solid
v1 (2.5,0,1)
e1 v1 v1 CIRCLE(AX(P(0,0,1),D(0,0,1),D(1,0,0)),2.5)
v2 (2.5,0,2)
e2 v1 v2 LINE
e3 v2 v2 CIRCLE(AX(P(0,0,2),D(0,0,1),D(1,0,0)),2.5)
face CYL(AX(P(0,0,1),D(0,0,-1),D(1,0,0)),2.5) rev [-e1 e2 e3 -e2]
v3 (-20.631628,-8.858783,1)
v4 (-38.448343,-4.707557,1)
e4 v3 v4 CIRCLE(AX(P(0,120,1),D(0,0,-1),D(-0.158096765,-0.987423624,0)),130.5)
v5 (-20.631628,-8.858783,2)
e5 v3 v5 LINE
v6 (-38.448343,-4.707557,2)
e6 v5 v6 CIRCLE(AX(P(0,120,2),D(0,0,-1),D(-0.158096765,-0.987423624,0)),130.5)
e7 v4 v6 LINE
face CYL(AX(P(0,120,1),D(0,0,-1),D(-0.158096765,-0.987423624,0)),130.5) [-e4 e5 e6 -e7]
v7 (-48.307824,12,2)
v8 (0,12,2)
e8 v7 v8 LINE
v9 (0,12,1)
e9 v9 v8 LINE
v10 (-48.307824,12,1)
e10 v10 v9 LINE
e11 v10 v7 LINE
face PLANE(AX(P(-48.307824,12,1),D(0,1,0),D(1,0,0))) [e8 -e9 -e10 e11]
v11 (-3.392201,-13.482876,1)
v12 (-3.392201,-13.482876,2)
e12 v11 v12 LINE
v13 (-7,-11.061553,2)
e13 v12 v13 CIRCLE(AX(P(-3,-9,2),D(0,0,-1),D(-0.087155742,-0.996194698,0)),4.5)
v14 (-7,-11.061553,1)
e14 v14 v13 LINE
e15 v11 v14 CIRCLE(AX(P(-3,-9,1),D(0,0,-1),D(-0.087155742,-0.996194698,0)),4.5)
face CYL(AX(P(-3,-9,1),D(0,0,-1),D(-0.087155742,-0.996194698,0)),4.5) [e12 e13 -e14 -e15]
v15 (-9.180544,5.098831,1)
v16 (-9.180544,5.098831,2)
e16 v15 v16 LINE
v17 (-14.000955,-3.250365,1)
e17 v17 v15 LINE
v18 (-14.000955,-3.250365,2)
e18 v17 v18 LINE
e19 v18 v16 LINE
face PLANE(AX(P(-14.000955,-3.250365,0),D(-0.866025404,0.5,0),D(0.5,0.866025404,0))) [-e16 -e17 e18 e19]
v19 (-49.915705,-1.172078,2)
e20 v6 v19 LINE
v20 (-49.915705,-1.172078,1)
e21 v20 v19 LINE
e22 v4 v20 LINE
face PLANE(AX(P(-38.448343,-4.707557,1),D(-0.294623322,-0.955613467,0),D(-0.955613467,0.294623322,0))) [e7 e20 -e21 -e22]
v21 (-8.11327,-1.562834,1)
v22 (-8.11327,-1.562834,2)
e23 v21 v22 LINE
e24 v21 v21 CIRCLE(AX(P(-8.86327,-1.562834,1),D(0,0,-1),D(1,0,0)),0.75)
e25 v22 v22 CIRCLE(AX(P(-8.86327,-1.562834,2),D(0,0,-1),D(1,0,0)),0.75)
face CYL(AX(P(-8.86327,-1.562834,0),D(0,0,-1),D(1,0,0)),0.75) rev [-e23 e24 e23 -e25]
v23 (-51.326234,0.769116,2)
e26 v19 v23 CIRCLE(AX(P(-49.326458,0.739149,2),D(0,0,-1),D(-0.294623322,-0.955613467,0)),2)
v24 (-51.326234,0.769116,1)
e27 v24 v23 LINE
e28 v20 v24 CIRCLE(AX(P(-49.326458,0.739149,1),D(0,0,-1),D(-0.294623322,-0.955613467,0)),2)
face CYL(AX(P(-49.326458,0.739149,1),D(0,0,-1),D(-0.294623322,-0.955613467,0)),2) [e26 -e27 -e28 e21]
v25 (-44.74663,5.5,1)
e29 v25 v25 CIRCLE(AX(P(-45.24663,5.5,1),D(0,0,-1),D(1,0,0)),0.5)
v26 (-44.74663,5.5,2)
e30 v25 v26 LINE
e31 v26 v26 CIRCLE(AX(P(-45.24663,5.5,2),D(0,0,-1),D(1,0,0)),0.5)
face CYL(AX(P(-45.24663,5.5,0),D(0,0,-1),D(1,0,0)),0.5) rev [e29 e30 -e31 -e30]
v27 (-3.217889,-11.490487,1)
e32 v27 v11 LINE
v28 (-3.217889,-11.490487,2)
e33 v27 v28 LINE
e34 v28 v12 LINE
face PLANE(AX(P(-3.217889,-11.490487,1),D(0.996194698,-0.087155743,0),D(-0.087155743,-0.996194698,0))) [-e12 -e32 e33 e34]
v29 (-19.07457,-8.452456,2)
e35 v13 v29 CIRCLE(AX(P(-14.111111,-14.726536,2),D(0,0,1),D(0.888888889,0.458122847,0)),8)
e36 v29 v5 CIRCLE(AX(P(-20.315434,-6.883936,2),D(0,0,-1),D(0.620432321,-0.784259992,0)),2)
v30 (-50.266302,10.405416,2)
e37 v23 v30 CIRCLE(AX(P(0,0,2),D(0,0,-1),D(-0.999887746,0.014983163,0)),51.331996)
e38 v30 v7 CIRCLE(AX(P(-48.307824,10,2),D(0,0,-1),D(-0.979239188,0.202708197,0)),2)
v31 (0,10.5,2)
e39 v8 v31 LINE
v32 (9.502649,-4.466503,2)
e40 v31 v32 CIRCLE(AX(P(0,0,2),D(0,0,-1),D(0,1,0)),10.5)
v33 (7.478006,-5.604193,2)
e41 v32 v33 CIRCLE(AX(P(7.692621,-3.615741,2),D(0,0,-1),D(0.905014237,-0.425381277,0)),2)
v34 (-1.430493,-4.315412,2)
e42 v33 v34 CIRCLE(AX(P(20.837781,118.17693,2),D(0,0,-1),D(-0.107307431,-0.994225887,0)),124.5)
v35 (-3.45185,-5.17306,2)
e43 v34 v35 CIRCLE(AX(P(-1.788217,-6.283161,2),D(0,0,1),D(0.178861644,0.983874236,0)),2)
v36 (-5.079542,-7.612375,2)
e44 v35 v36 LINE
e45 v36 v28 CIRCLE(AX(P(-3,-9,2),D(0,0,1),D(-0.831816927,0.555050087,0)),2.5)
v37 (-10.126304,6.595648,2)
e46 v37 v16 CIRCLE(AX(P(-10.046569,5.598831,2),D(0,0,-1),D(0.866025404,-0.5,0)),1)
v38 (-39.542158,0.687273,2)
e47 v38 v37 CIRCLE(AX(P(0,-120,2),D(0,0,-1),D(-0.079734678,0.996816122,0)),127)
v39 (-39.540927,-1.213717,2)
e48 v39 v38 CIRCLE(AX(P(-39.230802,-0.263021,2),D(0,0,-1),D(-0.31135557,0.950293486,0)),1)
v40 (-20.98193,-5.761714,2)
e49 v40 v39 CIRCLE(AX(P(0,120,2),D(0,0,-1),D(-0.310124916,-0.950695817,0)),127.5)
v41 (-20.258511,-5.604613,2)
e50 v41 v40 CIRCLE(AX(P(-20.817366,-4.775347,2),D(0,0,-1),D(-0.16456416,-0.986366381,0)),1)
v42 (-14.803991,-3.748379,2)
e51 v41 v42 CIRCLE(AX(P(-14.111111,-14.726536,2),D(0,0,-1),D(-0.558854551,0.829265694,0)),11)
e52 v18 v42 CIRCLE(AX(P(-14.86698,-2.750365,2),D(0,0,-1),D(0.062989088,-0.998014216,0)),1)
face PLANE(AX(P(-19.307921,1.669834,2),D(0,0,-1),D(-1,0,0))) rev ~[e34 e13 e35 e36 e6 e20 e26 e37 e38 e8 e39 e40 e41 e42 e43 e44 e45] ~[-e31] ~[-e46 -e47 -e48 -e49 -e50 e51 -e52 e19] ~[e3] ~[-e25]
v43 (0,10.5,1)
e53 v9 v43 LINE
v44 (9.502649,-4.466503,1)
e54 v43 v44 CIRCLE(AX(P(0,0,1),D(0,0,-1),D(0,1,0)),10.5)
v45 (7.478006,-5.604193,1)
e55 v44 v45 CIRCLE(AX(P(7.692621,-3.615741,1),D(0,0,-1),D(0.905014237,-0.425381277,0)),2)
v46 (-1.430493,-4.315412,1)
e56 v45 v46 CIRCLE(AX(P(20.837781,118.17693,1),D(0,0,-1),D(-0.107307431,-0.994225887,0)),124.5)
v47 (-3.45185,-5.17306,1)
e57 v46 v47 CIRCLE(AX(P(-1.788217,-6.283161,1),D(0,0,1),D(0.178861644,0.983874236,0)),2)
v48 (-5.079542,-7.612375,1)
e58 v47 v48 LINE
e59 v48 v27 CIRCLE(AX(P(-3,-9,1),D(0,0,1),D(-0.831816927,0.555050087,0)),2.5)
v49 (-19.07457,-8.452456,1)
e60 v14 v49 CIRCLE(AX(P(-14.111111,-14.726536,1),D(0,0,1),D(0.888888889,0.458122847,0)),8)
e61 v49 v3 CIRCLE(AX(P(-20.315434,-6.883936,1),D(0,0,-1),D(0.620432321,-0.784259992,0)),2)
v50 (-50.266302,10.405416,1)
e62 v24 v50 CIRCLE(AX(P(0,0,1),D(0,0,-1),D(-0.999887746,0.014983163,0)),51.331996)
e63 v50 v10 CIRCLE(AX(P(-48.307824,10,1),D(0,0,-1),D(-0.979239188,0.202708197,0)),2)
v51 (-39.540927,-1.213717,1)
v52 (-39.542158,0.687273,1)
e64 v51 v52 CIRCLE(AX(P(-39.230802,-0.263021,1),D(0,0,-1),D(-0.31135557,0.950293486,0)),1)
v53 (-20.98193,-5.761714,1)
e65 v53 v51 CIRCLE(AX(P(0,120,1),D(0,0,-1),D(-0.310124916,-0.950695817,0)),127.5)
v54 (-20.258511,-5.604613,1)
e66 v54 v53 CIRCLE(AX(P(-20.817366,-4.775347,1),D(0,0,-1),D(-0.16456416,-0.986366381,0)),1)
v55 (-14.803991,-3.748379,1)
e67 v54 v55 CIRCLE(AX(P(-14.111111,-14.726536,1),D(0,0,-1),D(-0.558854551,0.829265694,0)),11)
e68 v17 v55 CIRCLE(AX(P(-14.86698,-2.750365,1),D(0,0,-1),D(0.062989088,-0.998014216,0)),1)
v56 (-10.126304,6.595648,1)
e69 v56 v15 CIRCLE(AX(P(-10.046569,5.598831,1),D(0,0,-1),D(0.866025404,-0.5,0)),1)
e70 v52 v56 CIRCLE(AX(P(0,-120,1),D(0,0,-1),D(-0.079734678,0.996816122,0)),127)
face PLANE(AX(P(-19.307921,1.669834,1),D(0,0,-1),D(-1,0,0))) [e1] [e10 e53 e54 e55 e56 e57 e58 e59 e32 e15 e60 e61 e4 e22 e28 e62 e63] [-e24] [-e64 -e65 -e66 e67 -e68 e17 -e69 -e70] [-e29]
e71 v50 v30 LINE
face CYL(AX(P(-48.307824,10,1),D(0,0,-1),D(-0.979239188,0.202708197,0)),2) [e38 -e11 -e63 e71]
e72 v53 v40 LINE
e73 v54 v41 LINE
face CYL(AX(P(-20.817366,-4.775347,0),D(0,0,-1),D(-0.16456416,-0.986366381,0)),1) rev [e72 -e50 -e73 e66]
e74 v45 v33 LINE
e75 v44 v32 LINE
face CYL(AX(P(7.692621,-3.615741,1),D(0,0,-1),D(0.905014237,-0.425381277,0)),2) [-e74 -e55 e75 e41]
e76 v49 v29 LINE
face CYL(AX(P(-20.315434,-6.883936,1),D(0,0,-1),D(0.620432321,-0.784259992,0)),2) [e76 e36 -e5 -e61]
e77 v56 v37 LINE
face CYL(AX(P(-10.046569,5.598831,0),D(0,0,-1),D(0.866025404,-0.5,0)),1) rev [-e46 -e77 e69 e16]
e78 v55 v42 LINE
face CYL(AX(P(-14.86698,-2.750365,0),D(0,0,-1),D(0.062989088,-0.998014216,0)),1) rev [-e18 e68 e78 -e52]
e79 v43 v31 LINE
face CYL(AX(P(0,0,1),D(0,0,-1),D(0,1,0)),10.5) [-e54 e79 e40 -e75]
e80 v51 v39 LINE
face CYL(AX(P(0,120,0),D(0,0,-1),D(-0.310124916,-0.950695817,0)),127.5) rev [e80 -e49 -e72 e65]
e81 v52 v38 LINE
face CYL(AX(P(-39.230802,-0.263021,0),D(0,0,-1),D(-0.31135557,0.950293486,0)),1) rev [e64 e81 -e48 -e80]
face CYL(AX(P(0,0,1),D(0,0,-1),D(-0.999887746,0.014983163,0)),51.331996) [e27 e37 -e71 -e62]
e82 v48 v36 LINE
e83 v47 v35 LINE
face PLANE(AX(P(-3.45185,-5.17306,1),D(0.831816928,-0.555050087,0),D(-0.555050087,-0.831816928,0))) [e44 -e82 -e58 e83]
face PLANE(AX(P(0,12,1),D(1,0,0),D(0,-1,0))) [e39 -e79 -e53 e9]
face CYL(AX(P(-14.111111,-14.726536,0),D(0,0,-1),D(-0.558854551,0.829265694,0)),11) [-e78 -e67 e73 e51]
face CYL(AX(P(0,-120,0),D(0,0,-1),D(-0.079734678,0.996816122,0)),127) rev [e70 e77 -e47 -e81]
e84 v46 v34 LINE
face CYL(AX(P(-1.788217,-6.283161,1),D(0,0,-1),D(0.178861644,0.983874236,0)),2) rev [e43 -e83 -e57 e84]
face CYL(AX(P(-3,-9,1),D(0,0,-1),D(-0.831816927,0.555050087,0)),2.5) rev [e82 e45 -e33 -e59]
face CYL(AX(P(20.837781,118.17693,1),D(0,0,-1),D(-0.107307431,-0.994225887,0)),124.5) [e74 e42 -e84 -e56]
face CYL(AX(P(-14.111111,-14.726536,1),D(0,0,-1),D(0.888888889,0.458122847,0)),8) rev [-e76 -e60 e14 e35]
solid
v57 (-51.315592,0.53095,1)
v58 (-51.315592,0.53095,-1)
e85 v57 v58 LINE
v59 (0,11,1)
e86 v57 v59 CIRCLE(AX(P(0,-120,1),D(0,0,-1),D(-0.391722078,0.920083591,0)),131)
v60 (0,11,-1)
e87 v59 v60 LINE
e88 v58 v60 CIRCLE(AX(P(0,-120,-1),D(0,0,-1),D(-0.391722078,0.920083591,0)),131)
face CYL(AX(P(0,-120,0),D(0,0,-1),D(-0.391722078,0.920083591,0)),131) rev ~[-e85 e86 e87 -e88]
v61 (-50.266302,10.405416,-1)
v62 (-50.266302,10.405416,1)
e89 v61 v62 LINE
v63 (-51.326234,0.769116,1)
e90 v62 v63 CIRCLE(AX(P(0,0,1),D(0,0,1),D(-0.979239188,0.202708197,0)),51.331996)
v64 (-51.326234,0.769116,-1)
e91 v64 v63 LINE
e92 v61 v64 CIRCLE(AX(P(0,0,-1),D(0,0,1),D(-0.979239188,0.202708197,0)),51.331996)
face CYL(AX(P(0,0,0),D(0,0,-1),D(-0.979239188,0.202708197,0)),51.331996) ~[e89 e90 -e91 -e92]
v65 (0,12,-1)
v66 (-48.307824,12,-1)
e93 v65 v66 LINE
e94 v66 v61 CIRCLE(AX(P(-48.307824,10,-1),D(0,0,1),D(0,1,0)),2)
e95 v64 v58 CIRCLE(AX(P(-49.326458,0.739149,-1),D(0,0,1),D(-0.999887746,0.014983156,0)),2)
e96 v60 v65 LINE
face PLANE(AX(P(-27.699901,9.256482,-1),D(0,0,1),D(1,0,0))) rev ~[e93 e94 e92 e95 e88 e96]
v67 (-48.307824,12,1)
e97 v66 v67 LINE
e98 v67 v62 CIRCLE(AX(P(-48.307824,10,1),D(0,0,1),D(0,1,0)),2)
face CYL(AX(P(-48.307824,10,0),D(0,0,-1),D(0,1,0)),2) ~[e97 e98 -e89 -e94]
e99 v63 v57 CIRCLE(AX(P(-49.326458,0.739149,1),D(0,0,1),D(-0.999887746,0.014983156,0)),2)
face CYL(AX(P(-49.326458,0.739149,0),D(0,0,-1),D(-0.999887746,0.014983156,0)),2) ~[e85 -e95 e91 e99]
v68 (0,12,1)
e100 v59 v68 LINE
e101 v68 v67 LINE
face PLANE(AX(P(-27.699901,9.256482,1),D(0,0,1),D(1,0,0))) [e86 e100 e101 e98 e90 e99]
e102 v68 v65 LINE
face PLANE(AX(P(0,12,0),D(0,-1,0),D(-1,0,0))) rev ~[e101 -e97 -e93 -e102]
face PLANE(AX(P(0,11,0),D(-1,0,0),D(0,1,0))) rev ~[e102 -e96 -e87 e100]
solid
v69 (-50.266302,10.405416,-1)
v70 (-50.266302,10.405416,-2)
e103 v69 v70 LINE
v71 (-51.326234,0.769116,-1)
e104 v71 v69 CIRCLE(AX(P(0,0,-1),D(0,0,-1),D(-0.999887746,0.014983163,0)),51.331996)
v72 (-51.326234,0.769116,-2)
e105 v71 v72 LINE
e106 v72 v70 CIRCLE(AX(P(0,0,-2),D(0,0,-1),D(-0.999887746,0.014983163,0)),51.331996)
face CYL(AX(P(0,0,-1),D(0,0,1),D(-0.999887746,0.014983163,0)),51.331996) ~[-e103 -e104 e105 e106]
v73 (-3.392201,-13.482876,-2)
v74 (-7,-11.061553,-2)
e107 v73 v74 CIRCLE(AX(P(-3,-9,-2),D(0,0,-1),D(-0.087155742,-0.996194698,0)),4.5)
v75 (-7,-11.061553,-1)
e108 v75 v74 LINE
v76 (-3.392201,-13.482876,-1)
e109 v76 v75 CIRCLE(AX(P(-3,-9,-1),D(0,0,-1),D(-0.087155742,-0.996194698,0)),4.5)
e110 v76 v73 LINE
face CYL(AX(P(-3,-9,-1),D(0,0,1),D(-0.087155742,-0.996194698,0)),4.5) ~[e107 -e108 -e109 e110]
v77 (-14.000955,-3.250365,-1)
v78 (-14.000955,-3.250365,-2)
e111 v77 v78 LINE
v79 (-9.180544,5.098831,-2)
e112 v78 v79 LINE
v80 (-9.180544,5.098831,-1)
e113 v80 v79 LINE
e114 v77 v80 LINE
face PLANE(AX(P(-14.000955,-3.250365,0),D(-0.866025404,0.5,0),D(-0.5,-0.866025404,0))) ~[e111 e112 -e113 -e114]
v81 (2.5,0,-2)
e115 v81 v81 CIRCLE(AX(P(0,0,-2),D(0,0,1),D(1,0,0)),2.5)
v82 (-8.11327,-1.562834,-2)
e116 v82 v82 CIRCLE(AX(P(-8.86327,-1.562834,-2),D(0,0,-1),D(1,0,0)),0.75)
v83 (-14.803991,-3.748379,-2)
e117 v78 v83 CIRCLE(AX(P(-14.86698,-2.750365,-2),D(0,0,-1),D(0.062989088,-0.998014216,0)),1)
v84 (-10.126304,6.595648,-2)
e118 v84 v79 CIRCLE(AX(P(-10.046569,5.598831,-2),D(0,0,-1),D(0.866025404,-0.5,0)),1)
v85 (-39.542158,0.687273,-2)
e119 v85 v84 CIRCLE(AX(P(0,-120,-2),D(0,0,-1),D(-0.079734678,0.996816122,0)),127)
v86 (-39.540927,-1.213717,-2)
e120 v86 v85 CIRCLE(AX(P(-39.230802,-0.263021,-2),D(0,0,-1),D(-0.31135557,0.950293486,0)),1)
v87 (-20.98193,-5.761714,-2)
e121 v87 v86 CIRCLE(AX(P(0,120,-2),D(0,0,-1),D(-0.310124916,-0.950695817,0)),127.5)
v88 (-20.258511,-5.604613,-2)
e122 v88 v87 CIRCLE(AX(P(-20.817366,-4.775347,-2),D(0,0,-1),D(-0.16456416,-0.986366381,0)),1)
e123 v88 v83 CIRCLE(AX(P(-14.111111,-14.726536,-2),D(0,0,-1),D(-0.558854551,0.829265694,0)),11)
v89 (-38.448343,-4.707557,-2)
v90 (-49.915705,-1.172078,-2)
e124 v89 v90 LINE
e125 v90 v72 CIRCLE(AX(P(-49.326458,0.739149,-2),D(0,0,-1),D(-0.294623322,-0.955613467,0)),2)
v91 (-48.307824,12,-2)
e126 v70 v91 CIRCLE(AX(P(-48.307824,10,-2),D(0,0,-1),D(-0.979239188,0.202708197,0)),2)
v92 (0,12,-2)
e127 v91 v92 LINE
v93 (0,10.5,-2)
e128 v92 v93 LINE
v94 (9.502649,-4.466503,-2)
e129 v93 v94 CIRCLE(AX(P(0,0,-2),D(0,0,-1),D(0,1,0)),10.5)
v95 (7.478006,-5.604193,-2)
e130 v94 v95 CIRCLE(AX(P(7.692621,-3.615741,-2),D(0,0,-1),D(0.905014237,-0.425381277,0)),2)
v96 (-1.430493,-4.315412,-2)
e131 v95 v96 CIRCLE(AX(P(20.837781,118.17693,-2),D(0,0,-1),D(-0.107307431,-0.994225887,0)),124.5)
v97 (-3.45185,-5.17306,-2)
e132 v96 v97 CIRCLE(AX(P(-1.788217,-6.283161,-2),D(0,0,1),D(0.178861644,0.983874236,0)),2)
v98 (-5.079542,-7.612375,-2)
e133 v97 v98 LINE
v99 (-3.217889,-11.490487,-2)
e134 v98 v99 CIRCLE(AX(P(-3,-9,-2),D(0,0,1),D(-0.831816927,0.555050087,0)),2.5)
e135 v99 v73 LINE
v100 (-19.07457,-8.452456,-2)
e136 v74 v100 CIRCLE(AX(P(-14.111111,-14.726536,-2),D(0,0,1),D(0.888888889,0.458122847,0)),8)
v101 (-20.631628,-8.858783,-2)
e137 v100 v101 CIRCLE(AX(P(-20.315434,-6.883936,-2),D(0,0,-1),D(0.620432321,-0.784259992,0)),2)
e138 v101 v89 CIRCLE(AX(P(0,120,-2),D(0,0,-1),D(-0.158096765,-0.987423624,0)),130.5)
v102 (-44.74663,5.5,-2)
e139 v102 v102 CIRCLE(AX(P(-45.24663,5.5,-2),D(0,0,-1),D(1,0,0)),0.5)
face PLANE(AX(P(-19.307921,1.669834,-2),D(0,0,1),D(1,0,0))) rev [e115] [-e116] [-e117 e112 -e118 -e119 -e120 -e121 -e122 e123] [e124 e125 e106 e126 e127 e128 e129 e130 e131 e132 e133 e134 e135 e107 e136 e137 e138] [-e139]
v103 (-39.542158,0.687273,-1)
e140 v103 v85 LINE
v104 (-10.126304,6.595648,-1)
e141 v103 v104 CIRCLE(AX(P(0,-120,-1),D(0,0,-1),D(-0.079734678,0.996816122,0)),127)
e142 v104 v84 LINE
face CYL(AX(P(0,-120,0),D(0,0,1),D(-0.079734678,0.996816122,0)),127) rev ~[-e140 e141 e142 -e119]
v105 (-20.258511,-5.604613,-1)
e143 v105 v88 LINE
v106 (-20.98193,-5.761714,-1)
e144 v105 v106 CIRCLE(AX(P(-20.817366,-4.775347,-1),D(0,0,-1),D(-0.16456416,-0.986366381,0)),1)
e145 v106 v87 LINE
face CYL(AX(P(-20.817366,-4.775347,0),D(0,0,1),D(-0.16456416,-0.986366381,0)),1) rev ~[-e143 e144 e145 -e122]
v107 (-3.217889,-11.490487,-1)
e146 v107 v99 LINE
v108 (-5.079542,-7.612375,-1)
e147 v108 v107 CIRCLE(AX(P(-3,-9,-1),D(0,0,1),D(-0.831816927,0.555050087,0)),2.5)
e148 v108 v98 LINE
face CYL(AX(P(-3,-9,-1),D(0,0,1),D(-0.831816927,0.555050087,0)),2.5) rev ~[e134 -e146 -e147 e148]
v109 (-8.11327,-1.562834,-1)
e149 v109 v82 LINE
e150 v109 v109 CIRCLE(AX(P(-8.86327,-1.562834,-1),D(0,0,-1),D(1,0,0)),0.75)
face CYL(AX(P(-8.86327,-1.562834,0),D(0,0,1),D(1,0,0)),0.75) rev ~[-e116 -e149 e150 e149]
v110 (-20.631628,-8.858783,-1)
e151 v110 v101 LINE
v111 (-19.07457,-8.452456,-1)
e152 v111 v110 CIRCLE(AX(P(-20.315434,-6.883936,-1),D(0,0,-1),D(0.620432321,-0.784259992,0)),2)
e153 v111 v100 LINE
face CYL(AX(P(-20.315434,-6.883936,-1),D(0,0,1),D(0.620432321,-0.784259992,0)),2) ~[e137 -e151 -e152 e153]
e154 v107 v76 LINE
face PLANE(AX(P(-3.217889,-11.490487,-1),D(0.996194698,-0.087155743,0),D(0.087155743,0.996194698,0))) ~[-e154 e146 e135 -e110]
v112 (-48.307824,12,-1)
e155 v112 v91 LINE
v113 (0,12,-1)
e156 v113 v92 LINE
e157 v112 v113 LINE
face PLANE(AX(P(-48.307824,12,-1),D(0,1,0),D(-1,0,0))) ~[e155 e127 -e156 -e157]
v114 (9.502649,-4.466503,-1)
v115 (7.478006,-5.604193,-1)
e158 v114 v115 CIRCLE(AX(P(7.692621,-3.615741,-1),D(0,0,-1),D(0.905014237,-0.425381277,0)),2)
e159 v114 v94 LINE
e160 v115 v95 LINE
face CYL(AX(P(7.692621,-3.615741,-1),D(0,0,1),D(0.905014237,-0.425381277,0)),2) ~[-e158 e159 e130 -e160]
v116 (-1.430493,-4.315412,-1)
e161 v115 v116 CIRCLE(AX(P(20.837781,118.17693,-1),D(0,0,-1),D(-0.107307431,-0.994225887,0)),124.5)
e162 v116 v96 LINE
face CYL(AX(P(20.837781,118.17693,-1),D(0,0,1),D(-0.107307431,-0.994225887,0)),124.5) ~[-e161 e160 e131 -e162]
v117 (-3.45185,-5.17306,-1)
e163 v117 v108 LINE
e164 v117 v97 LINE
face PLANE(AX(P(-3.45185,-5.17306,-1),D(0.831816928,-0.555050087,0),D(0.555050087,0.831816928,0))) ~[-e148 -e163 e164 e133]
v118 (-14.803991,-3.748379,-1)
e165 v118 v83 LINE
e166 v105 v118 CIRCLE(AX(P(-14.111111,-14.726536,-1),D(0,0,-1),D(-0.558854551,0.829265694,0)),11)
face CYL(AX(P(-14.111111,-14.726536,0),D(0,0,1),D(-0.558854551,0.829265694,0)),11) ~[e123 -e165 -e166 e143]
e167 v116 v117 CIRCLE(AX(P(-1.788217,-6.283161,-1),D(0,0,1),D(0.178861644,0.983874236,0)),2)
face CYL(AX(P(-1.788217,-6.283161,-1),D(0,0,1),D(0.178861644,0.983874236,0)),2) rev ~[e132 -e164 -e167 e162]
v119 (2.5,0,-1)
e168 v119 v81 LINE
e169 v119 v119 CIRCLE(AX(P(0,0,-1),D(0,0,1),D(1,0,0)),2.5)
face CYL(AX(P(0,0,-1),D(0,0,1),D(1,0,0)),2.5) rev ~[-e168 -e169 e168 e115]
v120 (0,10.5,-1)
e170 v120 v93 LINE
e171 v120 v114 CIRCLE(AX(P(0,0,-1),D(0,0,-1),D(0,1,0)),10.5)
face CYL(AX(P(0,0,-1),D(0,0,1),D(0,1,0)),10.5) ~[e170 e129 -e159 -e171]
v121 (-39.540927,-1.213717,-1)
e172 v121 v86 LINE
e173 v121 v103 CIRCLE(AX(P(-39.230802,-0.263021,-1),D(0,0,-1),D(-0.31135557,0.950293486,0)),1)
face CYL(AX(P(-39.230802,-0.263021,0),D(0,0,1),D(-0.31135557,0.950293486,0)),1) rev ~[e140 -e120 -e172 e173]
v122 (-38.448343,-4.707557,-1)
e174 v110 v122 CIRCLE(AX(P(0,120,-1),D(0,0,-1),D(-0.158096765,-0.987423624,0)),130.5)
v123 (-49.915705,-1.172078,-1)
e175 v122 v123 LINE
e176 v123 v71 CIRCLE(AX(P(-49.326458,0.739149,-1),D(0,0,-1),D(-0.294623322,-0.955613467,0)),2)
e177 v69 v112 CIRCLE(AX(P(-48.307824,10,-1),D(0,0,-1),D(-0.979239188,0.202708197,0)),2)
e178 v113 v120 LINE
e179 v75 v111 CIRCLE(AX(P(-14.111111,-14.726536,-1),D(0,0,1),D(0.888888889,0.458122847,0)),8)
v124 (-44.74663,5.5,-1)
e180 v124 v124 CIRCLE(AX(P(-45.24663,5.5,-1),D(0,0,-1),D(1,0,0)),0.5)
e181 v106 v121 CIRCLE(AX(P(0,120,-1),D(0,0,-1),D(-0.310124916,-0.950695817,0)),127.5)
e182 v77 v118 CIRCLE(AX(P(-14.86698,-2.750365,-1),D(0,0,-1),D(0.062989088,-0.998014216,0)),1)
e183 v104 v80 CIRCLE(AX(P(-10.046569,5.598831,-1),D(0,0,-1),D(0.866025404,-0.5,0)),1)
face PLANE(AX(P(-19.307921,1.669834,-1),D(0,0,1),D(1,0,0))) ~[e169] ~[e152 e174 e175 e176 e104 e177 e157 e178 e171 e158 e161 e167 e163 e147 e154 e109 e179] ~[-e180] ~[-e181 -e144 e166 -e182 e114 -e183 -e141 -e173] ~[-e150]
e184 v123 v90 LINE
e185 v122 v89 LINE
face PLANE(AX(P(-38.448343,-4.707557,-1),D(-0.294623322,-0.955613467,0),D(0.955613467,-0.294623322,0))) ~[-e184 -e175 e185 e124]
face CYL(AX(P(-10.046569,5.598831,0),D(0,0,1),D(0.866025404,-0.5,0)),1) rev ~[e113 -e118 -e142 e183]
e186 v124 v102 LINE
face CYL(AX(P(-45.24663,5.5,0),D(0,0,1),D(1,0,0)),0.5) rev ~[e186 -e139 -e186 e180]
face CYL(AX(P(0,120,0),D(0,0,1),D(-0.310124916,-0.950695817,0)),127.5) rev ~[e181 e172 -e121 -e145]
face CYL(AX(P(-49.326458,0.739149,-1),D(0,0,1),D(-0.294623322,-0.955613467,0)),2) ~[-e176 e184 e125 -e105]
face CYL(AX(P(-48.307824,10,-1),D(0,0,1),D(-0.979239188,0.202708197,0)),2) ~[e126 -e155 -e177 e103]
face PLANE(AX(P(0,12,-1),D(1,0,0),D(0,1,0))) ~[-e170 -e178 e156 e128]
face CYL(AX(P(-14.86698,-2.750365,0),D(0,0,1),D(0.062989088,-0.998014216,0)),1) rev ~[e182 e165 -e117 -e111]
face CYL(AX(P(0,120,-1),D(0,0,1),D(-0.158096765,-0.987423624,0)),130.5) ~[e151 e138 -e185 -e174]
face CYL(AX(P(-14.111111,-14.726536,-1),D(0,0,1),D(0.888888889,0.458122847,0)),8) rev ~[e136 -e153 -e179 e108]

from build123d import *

# Parameters (mm, degrees)
SKICA1_R                 = 2.5
P_IDAT_VYSUNUT_M1_DEPTH  = 1
ODEBRAT_VYSUNUT_M3_DEPTH = 54.105492035
SKICA2_R                 = 0.75
SKICA2_R_2               = 0.5
ODEBRAT_VYSUNUT_M2_DEPTH = 54.105492035
P_IDAT_VYSUNUT_M2_DEPTH  = 1


with BuildPart() as part:
    # Skica1 → Přidat vysunutím1 (new body)
    with BuildSketch(Plane.XY.offset(1)):
        with BuildLine():
            Line((-3.451850397, -5.17306034), (-5.079542319, -7.612374783))
            ThreePointArc((-5.079542319, -7.612374783), (-5.253771545, -10.081902872), (-3.217889357, -11.490486745))
            Line((-3.217889357, -11.490486745), (-3.392200842, -13.482876141))
            ThreePointArc((-3.392200842, -13.482876141), (-5.507699887, -12.736501208), (-7, -11.061552813))
            ThreePointArc((-7, -11.061552813), (-12.421451418, -6.907005546), (-19.074569669, -8.452455647))
            ThreePointArc((-19.074569669, -8.452455647), (-19.810429728, -8.819128255), (-20.631627839, -8.858782909))
            ThreePointArc((-20.631627839, -8.858782909), (-29.612816832, -7.095755552), (-38.448343472, -4.707557447))
            Line((-38.448343472, -4.707557447), (-49.915705076, -1.172077587))
            ThreePointArc((-49.915705076, -1.172077587), (-50.944425281, -0.436513563), (-51.326233925, 0.769115673))
            ThreePointArc((-51.326233925, 0.769115673), (-51.024263074, 5.612344033), (-50.266302206, 10.405416394))
            ThreePointArc((-50.266302206, 10.405416394), (-49.570592062, 11.550940487), (-48.307823831, 12))
            Line((-48.307823831, 12), (0, 12))
            Line((0, 12), (0, 10.5))
            ThreePointArc((0, 10.5), (8.864205709, 5.628130874), (9.502649492, -4.466503402))
            ThreePointArc((9.502649492, -4.466503402), (8.672376262, -5.35932327), (7.478006155, -5.604192624))
            ThreePointArc((7.478006155, -5.604192624), (3.01210543, -5.04033823), (-1.430493256, -4.315412042))
            ThreePointArc((-1.430493256, -4.315412042), (-2.569395622, -4.442030631), (-3.451850397, -5.17306034))
        make_face()
        Circle(SKICA1_R, mode=Mode.SUBTRACT)
    extrude(amount=P_IDAT_VYSUNUT_M1_DEPTH)

    # Skica14 → Odebrat vysunutím3 (cut, through all)
    with BuildSketch(Plane.XY):
        with BuildLine():
            Line((-14.000954762, -3.250365002), (-9.180543984, 5.098831378))
            ThreePointArc((-9.180543984, 5.098831378), (-9.201183144, 6.132986878), (-10.126304066, 6.5956475))
            ThreePointArc((-10.126304066, 6.5956475), (-25.0093231, 4.513187085), (-39.5421575, 0.687272652))
            ThreePointArc((-39.5421575, 0.687272652), (-40.23080172, -0.263668209), (-39.540926846, -1.21371665))
            ThreePointArc((-39.540926846, -1.21371665), (-30.346748023, -3.835878825), (-20.981929874, -5.761713644))
            ThreePointArc((-20.981929874, -5.761713644), (-20.60514794, -5.752569661), (-20.258511168, -5.604612957))
            ThreePointArc((-20.258511168, -5.604612957), (-17.654944999, -4.313023149), (-14.803991078, -3.748379218))
            ThreePointArc((-14.803991078, -3.748379218), (-14.339939825, -3.600205269), (-14.000954762, -3.250365002))
        make_face()
    extrude(amount=ODEBRAT_VYSUNUT_M3_DEPTH, mode=Mode.SUBTRACT)

    # Skica2 → Odebrat vysunutím2 (cut, through all)
    with BuildSketch(Plane.XY):
        with Locations((-8.863269777, -1.562833599)):
            Circle(SKICA2_R)
        with Locations((-45.246630015, 5.5)):
            Circle(SKICA2_R_2)
    extrude(amount=ODEBRAT_VYSUNUT_M2_DEPTH, mode=Mode.SUBTRACT)


with BuildPart() as body_2:
    # Skica16 → Přidat vysunutím2 (new, symmetric)
    with BuildSketch(Plane(origin=(0, 0, 0), x_dir=(-1, 0, 0), z_dir=(0, 0, -1))):
        with BuildLine():
            Line((0, 12), (48.307823831, 12))
            ThreePointArc((48.307823831, 12), (49.570592062, 11.550940487), (50.266302206, 10.405416394))
            ThreePointArc((50.266302206, 10.405416394), (51.024263074, 5.612344033), (51.326233925, 0.769115673))
            ThreePointArc((51.326233925, 0.769115673), (51.324464931, 0.649874315), (51.31559221, 0.530950366))
            ThreePointArc((51.31559221, 0.530950366), (26.186308465, 8.356056534), (0, 11))
            Line((0, 11), (0, 12))
        make_face()
    extrude(amount=P_IDAT_VYSUNUT_M2_DEPTH, both=True)


with BuildPart() as body_3:
    # Zrcadlit1: mirrored copy
    add(part.part.mirror(Plane.XY))


solid = Compound([part.part, body_2.part, body_3.part])
